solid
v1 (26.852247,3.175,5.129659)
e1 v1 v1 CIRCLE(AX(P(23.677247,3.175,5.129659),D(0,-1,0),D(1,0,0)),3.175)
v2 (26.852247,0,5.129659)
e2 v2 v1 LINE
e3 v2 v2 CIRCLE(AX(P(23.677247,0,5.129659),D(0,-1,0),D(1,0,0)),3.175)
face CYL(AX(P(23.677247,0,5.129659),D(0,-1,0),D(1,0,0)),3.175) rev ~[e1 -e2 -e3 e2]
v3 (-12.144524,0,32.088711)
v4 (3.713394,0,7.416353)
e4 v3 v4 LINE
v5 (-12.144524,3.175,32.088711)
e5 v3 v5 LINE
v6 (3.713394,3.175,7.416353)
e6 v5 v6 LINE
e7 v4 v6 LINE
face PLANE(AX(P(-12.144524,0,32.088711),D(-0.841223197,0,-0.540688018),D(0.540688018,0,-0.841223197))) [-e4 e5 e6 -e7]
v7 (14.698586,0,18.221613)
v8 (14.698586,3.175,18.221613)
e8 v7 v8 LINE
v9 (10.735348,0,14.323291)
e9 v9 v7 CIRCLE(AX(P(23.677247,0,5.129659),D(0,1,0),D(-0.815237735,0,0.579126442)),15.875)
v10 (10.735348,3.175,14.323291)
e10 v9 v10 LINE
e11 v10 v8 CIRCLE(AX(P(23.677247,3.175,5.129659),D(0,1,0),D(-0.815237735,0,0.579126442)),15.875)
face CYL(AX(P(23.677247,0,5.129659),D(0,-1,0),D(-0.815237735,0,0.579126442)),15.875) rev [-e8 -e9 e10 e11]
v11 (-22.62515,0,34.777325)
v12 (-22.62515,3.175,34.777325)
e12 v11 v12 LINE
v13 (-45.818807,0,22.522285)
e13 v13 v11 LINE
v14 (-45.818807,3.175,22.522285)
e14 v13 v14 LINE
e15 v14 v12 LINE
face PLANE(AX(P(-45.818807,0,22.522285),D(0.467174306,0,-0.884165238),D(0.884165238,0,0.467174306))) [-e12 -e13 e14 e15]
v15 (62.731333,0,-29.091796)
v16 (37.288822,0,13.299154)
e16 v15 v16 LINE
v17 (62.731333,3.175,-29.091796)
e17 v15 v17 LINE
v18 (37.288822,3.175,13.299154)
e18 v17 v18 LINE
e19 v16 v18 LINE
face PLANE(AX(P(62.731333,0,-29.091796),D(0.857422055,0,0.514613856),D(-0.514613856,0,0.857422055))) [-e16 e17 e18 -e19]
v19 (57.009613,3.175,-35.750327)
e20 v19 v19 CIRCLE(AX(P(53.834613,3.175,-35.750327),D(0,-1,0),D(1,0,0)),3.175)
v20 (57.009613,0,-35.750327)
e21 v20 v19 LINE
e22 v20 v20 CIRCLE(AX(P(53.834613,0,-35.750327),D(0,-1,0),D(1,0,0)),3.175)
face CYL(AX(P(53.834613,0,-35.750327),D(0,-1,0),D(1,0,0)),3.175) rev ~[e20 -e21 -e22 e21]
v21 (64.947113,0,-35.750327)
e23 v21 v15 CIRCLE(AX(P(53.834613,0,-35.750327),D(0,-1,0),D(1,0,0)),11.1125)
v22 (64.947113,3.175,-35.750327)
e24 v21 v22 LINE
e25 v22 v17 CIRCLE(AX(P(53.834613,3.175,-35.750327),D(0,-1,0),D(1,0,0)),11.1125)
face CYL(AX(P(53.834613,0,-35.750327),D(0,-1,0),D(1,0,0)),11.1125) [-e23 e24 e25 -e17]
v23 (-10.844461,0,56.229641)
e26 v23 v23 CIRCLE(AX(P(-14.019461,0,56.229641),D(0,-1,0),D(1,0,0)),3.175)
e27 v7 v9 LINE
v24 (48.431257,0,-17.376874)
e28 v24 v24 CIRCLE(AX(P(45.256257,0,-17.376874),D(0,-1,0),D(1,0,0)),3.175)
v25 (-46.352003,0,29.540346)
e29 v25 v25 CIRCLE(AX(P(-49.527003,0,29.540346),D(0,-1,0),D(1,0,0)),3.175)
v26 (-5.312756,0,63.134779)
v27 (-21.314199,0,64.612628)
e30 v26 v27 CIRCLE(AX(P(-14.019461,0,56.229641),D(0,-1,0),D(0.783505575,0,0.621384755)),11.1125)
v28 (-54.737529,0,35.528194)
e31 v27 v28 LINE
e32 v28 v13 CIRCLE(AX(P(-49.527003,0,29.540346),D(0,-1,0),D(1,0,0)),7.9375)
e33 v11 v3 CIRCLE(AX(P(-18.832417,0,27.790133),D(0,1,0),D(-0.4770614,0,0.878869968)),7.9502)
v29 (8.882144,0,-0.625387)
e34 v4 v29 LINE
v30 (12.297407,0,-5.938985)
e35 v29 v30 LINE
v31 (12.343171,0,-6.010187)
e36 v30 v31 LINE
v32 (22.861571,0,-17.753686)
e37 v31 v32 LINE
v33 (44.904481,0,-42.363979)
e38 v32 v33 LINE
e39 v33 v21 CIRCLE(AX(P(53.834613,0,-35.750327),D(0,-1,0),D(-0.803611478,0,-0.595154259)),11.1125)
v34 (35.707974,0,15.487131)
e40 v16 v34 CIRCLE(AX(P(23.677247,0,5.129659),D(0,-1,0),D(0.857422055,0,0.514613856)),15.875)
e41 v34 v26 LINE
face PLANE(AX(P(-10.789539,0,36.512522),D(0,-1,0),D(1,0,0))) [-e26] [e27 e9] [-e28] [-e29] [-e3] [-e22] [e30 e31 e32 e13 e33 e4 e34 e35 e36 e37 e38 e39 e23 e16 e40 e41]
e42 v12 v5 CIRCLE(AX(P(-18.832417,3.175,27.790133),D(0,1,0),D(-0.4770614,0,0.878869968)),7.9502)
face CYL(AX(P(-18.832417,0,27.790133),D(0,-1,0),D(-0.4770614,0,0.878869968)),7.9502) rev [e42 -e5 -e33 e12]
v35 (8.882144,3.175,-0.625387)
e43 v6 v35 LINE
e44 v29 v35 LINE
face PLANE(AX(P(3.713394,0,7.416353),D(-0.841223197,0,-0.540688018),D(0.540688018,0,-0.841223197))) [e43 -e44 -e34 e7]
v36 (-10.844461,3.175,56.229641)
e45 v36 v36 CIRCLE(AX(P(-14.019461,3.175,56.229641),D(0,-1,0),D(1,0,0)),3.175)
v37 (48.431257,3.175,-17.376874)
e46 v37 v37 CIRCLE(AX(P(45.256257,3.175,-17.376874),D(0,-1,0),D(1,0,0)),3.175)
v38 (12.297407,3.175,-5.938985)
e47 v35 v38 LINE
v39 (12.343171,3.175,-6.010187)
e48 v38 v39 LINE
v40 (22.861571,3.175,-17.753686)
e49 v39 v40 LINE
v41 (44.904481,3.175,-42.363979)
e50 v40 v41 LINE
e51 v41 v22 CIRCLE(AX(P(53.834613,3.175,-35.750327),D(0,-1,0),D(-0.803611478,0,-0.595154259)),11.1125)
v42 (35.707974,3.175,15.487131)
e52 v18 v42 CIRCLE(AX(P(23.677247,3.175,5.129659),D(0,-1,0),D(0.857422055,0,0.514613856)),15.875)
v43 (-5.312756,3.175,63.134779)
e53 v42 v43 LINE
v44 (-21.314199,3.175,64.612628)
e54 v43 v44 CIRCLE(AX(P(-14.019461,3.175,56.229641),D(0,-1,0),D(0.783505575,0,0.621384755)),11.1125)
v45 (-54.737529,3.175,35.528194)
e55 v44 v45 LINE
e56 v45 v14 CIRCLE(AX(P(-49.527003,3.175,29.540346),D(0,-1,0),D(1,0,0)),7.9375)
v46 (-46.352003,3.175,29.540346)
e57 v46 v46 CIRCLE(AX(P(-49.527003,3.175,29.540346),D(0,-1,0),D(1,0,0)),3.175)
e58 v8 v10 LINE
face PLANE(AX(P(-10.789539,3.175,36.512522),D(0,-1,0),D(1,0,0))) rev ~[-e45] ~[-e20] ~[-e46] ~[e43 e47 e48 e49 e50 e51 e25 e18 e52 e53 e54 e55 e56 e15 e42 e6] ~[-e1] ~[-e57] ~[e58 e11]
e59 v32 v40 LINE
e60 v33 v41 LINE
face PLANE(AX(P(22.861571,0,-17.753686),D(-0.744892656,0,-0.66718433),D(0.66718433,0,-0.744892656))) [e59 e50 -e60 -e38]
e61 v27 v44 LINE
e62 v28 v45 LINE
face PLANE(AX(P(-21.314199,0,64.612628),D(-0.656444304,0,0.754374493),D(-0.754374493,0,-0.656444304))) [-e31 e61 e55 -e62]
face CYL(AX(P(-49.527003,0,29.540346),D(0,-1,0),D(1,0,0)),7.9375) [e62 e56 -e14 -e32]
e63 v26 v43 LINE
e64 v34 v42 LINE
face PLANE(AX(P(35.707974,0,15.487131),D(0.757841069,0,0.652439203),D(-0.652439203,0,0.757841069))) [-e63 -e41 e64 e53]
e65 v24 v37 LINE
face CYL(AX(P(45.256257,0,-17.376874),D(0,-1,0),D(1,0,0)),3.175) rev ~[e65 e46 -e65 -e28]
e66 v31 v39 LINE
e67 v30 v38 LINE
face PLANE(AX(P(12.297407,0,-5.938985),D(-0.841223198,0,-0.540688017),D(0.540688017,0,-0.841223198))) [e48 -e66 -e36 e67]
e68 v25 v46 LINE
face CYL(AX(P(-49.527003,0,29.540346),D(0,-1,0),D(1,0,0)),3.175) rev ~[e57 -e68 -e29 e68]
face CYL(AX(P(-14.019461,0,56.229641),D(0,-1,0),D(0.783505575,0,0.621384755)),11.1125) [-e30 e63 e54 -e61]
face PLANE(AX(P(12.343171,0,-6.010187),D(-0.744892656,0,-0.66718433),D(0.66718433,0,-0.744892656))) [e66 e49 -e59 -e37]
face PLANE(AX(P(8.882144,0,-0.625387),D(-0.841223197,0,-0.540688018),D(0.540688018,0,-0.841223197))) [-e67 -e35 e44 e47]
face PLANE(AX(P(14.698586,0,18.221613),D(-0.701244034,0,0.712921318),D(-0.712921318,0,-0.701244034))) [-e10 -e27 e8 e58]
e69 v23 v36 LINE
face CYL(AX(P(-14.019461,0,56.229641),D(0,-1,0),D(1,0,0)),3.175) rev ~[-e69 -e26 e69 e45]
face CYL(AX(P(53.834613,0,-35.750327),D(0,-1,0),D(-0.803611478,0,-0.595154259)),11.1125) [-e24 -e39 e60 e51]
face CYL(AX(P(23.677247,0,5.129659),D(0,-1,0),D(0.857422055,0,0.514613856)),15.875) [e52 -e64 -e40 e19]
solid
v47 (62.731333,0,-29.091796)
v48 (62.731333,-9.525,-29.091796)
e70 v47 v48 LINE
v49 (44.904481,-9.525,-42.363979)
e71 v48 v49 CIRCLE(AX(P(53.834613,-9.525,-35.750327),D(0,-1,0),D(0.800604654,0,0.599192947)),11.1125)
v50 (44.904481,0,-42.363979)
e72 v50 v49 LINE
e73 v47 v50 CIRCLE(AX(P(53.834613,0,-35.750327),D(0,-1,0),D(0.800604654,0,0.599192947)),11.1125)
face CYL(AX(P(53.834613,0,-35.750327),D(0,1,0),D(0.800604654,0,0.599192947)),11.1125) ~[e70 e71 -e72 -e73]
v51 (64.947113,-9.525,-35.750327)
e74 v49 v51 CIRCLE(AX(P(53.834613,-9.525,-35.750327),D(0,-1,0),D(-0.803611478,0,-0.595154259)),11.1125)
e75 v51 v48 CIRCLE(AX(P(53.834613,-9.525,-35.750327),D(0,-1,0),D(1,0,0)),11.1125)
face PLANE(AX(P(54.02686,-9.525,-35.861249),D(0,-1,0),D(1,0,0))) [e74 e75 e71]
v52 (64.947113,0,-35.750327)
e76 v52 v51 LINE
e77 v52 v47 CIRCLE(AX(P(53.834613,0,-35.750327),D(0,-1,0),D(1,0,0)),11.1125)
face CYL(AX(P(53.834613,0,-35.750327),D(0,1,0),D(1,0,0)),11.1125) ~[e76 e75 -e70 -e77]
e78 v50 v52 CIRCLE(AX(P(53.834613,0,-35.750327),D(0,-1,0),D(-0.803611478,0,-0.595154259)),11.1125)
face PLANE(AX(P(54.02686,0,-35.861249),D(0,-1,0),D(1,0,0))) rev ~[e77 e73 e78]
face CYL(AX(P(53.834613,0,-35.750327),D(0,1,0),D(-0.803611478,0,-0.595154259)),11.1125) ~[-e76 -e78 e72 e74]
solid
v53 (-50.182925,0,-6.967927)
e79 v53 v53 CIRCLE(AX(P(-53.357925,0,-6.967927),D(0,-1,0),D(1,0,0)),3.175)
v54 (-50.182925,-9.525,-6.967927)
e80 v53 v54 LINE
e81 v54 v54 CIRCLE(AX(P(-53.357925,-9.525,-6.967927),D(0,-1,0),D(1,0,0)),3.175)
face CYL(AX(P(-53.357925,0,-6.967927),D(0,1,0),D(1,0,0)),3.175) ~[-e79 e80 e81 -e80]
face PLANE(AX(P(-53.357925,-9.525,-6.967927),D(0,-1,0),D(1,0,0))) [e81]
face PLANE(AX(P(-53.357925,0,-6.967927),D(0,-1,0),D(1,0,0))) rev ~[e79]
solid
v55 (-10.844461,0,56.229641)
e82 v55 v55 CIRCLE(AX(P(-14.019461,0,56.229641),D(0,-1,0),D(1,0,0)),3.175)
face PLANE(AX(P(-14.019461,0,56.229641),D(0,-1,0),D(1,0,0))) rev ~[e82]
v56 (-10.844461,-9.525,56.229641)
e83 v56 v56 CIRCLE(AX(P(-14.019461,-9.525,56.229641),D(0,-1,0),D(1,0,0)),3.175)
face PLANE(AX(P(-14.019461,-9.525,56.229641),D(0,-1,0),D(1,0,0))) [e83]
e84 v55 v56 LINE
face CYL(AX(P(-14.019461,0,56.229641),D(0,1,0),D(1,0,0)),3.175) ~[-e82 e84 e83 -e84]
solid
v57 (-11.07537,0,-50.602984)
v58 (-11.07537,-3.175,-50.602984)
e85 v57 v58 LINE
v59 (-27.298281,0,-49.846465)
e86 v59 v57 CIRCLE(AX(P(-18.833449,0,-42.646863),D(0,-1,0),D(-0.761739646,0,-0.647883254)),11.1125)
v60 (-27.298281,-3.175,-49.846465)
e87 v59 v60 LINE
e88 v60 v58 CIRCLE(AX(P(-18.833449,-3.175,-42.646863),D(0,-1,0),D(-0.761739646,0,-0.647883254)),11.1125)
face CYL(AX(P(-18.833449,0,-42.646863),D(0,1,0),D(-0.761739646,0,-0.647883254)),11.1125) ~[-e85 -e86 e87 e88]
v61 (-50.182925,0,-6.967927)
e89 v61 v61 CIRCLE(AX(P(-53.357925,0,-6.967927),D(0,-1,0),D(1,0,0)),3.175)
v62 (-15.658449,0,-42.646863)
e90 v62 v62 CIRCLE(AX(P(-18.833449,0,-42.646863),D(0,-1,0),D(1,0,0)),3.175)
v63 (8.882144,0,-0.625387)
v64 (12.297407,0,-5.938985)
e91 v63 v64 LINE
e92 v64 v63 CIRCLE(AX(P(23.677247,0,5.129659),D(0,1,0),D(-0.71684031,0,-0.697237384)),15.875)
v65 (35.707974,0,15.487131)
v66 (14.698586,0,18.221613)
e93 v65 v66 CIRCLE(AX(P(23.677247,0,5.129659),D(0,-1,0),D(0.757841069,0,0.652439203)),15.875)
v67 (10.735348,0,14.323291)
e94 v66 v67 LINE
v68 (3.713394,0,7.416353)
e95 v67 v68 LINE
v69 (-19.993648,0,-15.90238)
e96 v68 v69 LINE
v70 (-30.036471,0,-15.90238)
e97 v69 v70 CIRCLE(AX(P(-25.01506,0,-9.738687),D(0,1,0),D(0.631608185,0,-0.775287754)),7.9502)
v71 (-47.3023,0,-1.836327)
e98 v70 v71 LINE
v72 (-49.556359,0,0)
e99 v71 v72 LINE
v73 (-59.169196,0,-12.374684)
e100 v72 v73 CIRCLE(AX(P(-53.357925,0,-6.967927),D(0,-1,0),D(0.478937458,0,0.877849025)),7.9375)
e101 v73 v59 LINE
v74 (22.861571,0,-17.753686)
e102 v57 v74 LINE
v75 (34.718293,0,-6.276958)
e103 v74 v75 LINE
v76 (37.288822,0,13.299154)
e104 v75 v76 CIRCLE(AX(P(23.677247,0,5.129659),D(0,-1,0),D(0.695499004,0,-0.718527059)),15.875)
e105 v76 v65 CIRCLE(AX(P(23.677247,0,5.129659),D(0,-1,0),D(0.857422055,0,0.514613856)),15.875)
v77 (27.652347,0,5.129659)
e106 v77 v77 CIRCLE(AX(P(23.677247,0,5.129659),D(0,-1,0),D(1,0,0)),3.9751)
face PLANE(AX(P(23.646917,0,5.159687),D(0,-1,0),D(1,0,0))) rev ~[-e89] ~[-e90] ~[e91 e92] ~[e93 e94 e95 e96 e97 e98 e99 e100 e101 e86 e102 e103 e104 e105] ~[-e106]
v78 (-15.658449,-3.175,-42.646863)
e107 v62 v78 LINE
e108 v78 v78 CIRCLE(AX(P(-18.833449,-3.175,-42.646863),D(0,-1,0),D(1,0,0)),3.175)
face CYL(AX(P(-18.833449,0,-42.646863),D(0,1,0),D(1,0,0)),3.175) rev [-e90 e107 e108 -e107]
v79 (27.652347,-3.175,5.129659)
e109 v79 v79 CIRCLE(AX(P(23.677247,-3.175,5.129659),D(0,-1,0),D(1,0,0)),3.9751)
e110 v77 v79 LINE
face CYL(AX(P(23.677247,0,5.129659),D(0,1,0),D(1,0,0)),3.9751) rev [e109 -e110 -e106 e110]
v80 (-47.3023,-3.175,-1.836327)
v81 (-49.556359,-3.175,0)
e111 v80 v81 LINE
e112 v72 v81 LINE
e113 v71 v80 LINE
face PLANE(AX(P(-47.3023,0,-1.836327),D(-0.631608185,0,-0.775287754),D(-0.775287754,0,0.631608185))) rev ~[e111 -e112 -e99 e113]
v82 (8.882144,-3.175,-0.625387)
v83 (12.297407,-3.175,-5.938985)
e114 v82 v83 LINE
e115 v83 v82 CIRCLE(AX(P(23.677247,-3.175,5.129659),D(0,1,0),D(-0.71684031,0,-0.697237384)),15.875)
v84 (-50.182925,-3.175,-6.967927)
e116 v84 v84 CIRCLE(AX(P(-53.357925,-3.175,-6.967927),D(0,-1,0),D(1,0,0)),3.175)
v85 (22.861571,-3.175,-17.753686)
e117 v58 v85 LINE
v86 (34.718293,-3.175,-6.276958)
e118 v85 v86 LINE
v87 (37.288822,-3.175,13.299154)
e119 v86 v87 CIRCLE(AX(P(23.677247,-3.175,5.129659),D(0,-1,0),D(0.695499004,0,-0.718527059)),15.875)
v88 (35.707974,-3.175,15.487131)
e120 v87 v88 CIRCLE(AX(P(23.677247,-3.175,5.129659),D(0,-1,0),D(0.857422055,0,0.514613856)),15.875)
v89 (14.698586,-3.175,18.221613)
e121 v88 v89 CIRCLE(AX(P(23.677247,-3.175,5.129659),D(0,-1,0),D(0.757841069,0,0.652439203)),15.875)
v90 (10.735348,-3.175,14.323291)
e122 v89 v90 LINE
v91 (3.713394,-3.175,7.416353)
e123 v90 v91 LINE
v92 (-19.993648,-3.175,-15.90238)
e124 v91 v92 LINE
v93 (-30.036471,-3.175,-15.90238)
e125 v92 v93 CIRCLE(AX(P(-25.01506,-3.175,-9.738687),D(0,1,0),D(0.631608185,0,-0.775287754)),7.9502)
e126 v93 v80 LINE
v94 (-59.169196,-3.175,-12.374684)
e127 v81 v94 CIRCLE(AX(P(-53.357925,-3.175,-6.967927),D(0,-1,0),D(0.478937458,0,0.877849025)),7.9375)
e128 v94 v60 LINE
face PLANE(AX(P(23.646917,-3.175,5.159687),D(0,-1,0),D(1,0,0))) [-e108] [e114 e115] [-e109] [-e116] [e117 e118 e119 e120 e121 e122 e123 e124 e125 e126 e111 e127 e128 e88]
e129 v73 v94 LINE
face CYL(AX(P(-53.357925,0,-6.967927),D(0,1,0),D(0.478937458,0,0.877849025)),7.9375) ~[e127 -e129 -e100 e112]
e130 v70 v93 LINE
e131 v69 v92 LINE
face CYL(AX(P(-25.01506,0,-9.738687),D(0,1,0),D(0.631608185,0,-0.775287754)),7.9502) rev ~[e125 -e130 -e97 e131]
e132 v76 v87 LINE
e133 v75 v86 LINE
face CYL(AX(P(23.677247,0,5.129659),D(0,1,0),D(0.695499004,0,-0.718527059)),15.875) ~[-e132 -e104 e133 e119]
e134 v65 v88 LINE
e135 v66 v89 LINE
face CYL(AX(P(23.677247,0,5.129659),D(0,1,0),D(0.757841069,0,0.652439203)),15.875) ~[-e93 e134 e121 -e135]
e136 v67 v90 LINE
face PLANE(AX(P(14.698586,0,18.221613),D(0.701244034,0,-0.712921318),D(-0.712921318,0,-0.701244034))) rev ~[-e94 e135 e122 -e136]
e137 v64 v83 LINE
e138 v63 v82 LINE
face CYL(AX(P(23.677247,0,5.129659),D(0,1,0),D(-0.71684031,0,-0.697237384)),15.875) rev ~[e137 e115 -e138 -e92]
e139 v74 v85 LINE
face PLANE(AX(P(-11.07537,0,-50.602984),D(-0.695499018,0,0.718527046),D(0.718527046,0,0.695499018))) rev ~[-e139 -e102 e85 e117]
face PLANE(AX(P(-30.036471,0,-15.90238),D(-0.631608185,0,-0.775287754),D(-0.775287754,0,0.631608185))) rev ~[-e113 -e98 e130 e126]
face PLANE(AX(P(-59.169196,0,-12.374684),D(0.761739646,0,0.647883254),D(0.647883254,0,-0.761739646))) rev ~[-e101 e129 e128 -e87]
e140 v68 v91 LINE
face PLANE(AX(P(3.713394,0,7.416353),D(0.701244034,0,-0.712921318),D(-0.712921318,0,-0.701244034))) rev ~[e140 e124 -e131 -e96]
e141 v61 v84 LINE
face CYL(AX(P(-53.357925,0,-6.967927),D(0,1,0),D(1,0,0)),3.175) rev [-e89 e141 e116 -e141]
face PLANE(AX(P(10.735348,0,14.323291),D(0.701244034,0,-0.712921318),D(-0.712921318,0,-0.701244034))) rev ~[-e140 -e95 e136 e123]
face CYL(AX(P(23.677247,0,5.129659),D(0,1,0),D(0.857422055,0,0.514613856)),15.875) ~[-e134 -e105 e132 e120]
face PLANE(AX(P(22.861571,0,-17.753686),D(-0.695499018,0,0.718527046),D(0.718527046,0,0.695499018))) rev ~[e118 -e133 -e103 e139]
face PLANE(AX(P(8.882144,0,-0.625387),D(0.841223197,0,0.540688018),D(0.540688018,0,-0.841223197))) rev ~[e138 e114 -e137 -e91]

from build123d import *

# Parameters (mm, degrees)
F0_R     = 3.9751
F0_R_2   = 3.175
F1_DEPTH = 3.175
F2_DEPTH = 3.175
F4_DEPTH = 9.525


with BuildPart() as f1:
    # F0 (on Front) → F1 (new body)
    with BuildSketch(Plane.XZ):
        with BuildLine():
            ThreePointArc((-5.3127557425, 63.1347790551), (-3.525631751, 59.8857583818), (-2.9069614474, 56.2296409669))
            ThreePointArc((-2.9069614474, 56.2296409669), (-18.6251583345, 46.116520161), (-21.3141987809, 64.6126275161))
            Line((-21.3141987809, 64.6126275161), (-54.737529258, 35.5281937994))
            ThreePointArc((-54.737529258, 35.5281937994), (-46.2372191005, 36.7640039827), (-41.5895025912, 29.5403462642))
            ThreePointArc((-41.5895025912, 29.5403462642), (-42.7285574594, 25.4433900722), (-45.8188065382, 22.5222846884))
            Line((-45.8188065382, 22.5222846884), (-22.625150159, 34.7773246467))
            ThreePointArc((-22.625150159, 34.7773246467), (-16.8569045119, 35.4909788107), (-12.144523957, 32.088710506))
            Line((-12.144523957, 32.088710506), (3.7133936542, 7.4163528596))
            Line((3.7133936542, 7.4163528596), (10.7353477508, 14.3232909653))
            ThreePointArc((10.7353477508, 14.3232909653), (12.5449977515, 16.4472846117), (14.6985856273, 18.2216130469))
            ThreePointArc((14.6985856273, 18.2216130469), (25.7261792861, 20.8718790141), (35.7079737596, 15.487131045))
            Line((35.7079737596, 15.487131045), (-5.3127557425, 63.1347790551))
        make_face()
        with BuildLine():
            ThreePointArc((37.2888219021, 13.2991536525), (36.5449865014, 14.4268033973), (35.7079737596, 15.487131045))
            ThreePointArc((35.7079737596, 15.487131045), (25.7261792861, 20.8718790141), (14.6985856273, 18.2216130469))
            Line((14.6985856273, 18.2216130469), (10.7353477508, 14.3232909653))
            ThreePointArc((10.7353477508, 14.3232909653), (7.9228485059, 7.0827485045), (8.8821439076, -0.6253874221))
            Line((8.8821439076, -0.6253874221), (12.2974068631, -5.9389847782))
            ThreePointArc((12.2974068631, -5.9389847782), (23.4379734075, -10.743537999), (34.718293483, -6.2769583705))
            ThreePointArc((34.718293483, -6.2769583705), (38.2938852735, -1.0646535641), (39.5522467868, 5.1296586938))
            ThreePointArc((39.5522467868, 5.1296586938), (38.9759294091, 9.3682828836), (37.2888219021, 13.2991536525))
        make_face()
        with Locations((23.6772467868, 5.1296586938)):
            Circle(F0_R, mode=Mode.SUBTRACT)
        with BuildLine():
            Line((62.7313325952, -29.0917955033), (37.2888219021, 13.2991536525))
            ThreePointArc((37.2888219021, 13.2991536525), (38.9759294091, 9.3682828836), (39.5522467868, 5.1296586938))
            ThreePointArc((39.5522467868, 5.1296586938), (38.2938852735, -1.0646535641), (34.718293483, -6.2769583705))
            Line((34.718293483, -6.2769583705), (22.861570702, -17.7536858036))
            Line((22.861570702, -17.7536858036), (44.9044808209, -42.3639788264))
            ThreePointArc((44.9044808209, -42.3639788264), (47.1985006827, -26.8368729907), (62.7313325952, -29.0917955033))
        make_face()
        with Locations((45.2562570572, -17.3768736422)):
            Circle(F0_R_2, mode=Mode.SUBTRACT)
        with BuildLine():
            ThreePointArc((64.9471133741, -35.7503271246), (64.3786270453, -32.2415621064), (62.7313325952, -29.0917955033))
            ThreePointArc((62.7313325952, -29.0917955033), (47.1985006827, -26.8368729907), (44.9044808209, -42.3639788264))
            ThreePointArc((44.9044808209, -42.3639788264), (57.3168223176, -46.3031408311), (64.9471133741, -35.7503271246))
        make_face()
        with Locations((53.8346133741, -35.7503271246)):
            Circle(F0_R_2, mode=Mode.SUBTRACT)
        with BuildLine():
            ThreePointArc((-21.3141987809, 64.6126275161), (-18.6251583345, 46.116520161), (-2.9069614474, 56.2296409669))
            ThreePointArc((-2.9069614474, 56.2296409669), (-3.525631751, 59.8857583818), (-5.3127557425, 63.1347790551))
            ThreePointArc((-5.3127557425, 63.1347790551), (-12.9974914435, 67.295048034), (-21.3141987809, 64.6126275161))
        make_face()
        with Locations((-14.0194614474, 56.2296409669)):
            Circle(F0_R_2, mode=Mode.SUBTRACT)
        with BuildLine():
            ThreePointArc((-41.5895025912, 29.5403462642), (-46.2372191005, 36.7640039827), (-54.737529258, 35.5281937994))
            ThreePointArc((-54.737529258, 35.5281937994), (-56.0731974607, 25.0513331231), (-45.8188065382, 22.5222846884))
            ThreePointArc((-45.8188065382, 22.5222846884), (-42.7285574594, 25.4433900722), (-41.5895025912, 29.5403462642))
        make_face()
        with Locations((-49.5270025912, 29.5403462642)):
            Circle(F0_R_2, mode=Mode.SUBTRACT)
        with BuildLine():
            Line((22.861570702, -17.7536858036), (34.718293483, -6.2769583705))
            ThreePointArc((34.718293483, -6.2769583705), (23.4379734075, -10.743537999), (12.2974068631, -5.9389847782))
            Line((12.2974068631, -5.9389847782), (12.3431713564, -6.0101869358))
            Line((12.3431713564, -6.0101869358), (22.861570702, -17.7536858036))
        make_face()
        with Locations((23.6772467868, 5.1296586938)):
            Circle(F0_R)
        with Locations((23.6772467868, 5.1296586938)):
            Circle(F0_R_2, mode=Mode.SUBTRACT)
        with BuildLine():
            ThreePointArc((8.8821439076, -0.6253874221), (7.9228485059, 7.0827485045), (10.7353477508, 14.3232909653))
            Line((10.7353477508, 14.3232909653), (3.7133936542, 7.4163528596))
            Line((3.7133936542, 7.4163528596), (8.8821439076, -0.6253874221))
        make_face()
    extrude(amount=-F1_DEPTH)


with BuildPart() as f2:
    # F0 (on Front) → F2 (new body)
    with BuildSketch(Plane.XZ):
        with BuildLine():
            ThreePointArc((37.2888219021, 13.2991536525), (36.5449865014, 14.4268033973), (35.7079737596, 15.487131045))
            ThreePointArc((35.7079737596, 15.487131045), (25.7261792861, 20.8718790141), (14.6985856273, 18.2216130469))
            Line((14.6985856273, 18.2216130469), (10.7353477508, 14.3232909653))
            ThreePointArc((10.7353477508, 14.3232909653), (7.9228485059, 7.0827485045), (8.8821439076, -0.6253874221))
            Line((8.8821439076, -0.6253874221), (12.2974068631, -5.9389847782))
            ThreePointArc((12.2974068631, -5.9389847782), (23.4379734075, -10.743537999), (34.718293483, -6.2769583705))
            ThreePointArc((34.718293483, -6.2769583705), (38.2938852735, -1.0646535641), (39.5522467868, 5.1296586938))
            ThreePointArc((39.5522467868, 5.1296586938), (38.9759294091, 9.3682828836), (37.2888219021, 13.2991536525))
        make_face()
        with Locations((23.6772467868, 5.1296586938)):
            Circle(F0_R, mode=Mode.SUBTRACT)
        with BuildLine():
            ThreePointArc((8.8821439076, -0.6253874221), (7.9228485059, 7.0827485045), (10.7353477508, 14.3232909653))
            Line((10.7353477508, 14.3232909653), (3.7133936542, 7.4163528596))
            Line((3.7133936542, 7.4163528596), (8.8821439076, -0.6253874221))
        make_face()
        with BuildLine():
            Line((22.861570702, -17.7536858036), (34.718293483, -6.2769583705))
            ThreePointArc((34.718293483, -6.2769583705), (23.4379734075, -10.743537999), (12.2974068631, -5.9389847782))
            Line((12.2974068631, -5.9389847782), (12.3431713564, -6.0101869358))
            Line((12.3431713564, -6.0101869358), (22.861570702, -17.7536858036))
        make_face()
        with BuildLine():
            ThreePointArc((12.2974068631, -5.9389847782), (10.3228285329, -3.45376359), (8.8821439076, -0.6253874221))
            Line((8.8821439076, -0.6253874221), (3.7133936542, 7.4163528596))
            Line((3.7133936542, 7.4163528596), (-19.9936484697, -15.9023801261))
            ThreePointArc((-19.9936484697, -15.9023801261), (-25.0150598586, -17.6888874259), (-30.0364712475, -15.9023801261))
            Line((-30.0364712475, -15.9023801261), (-47.3022995151, -1.8363273688))
            ThreePointArc((-47.3022995151, -1.8363273688), (-45.9057292748, -4.2350360326), (-45.4204246014, -6.9679266385))
            ThreePointArc((-45.4204246014, -6.9679266385), (-50.4530203401, -14.3547688247), (-59.1691962507, -12.3746842684))
            Line((-59.1691962507, -12.3746842684), (-27.2982812561, -49.8464654343))
            ThreePointArc((-27.2982812561, -49.8464654343), (-25.8826153725, -34.0563496428), (-10.1199282001, -35.7503271246))
            ThreePointArc((-10.1199282001, -35.7503271246), (-8.3378155575, -38.995927856), (-7.7209494347, -42.6468627726))
            ThreePointArc((-7.7209494347, -42.6468627726), (-8.3378155575, -46.2977976891), (-10.1199282001, -49.5433984205))
            ThreePointArc((-10.1199282001, -49.5433984205), (-10.5806264467, -50.0885406061), (-11.0753700137, -50.6029836833))
            Line((-11.0753700137, -50.6029836833), (22.861570702, -17.7536858036))
            Line((22.861570702, -17.7536858036), (12.3431713564, -6.0101869358))
            Line((12.3431713564, -6.0101869358), (12.2974068631, -5.9389847782))
        make_face()
        with BuildLine():
            Line((-10.1199282001, -35.7503271246), (-10.1199282001, -49.5433984205))
            ThreePointArc((-10.1199282001, -49.5433984205), (-8.3378155575, -46.2977976891), (-7.7209494347, -42.6468627726))
            ThreePointArc((-7.7209494347, -42.6468627726), (-8.3378155575, -38.995927856), (-10.1199282001, -35.7503271246))
        make_face()
        with BuildLine():
            ThreePointArc((-27.2982812561, -49.8464654343), (-19.3510928488, -53.7472997705), (-11.0753700137, -50.6029836833))
            ThreePointArc((-11.0753700137, -50.6029836833), (-10.5806264467, -50.0885406061), (-10.1199282001, -49.5433984205))
            Line((-10.1199282001, -49.5433984205), (-10.1199282001, -35.7503271246))
            ThreePointArc((-10.1199282001, -35.7503271246), (-25.8826153725, -34.0563496428), (-27.2982812561, -49.8464654343))
        make_face()
        with Locations((-18.8334494347, -42.6468627726)):
            Circle(F0_R_2, mode=Mode.SUBTRACT)
        with BuildLine():
            ThreePointArc((-45.4204246014, -6.9679266385), (-45.9057292748, -4.2350360326), (-47.3022995151, -1.8363273688))
            Line((-47.3022995151, -1.8363273688), (-49.556358528, 0))
            ThreePointArc((-49.556358528, 0), (-59.6263320396, -2.0985350504), (-59.1691962507, -12.3746842684))
            ThreePointArc((-59.1691962507, -12.3746842684), (-50.4530203401, -14.3547688247), (-45.4204246014, -6.9679266385))
        make_face()
        with Locations((-53.3579246014, -6.9679266385)):
            Circle(F0_R_2, mode=Mode.SUBTRACT)
    extrude(amount=F2_DEPTH)


with BuildPart() as f4:
    # F0 (on Front) → F4 (new body, through all)
    with BuildSketch(Plane.XZ):
        with Locations((-14.0194614474, 56.2296409669)):
            Circle(F0_R_2)
    extrude(amount=F4_DEPTH)


with BuildPart() as f4b:
    # F0 (on Front) → F4, piece 2 (new body, through all)
    with BuildSketch(Plane.XZ):
        with BuildLine():
            ThreePointArc((64.9471133741, -35.7503271246), (64.3786270453, -32.2415621064), (62.7313325952, -29.0917955033))
            ThreePointArc((62.7313325952, -29.0917955033), (47.1985006827, -26.8368729907), (44.9044808209, -42.3639788264))
            ThreePointArc((44.9044808209, -42.3639788264), (57.3168223176, -46.3031408311), (64.9471133741, -35.7503271246))
        make_face()
        with Locations((53.8346133741, -35.7503271246)):
            Circle(F0_R_2, mode=Mode.SUBTRACT)
        with Locations((53.8346133741, -35.7503271246)):
            Circle(F0_R_2)
    extrude(amount=F4_DEPTH)


with BuildPart() as f4c:
    # F0 (on Front) → F4, piece 3 (new body, through all)
    with BuildSketch(Plane.XZ):
        with Locations((-53.3579246014, -6.9679266385)):
            Circle(F0_R_2)
    extrude(amount=F4_DEPTH)


solid = Compound([f1.part, f2.part, f4.part, f4b.part, f4c.part])
